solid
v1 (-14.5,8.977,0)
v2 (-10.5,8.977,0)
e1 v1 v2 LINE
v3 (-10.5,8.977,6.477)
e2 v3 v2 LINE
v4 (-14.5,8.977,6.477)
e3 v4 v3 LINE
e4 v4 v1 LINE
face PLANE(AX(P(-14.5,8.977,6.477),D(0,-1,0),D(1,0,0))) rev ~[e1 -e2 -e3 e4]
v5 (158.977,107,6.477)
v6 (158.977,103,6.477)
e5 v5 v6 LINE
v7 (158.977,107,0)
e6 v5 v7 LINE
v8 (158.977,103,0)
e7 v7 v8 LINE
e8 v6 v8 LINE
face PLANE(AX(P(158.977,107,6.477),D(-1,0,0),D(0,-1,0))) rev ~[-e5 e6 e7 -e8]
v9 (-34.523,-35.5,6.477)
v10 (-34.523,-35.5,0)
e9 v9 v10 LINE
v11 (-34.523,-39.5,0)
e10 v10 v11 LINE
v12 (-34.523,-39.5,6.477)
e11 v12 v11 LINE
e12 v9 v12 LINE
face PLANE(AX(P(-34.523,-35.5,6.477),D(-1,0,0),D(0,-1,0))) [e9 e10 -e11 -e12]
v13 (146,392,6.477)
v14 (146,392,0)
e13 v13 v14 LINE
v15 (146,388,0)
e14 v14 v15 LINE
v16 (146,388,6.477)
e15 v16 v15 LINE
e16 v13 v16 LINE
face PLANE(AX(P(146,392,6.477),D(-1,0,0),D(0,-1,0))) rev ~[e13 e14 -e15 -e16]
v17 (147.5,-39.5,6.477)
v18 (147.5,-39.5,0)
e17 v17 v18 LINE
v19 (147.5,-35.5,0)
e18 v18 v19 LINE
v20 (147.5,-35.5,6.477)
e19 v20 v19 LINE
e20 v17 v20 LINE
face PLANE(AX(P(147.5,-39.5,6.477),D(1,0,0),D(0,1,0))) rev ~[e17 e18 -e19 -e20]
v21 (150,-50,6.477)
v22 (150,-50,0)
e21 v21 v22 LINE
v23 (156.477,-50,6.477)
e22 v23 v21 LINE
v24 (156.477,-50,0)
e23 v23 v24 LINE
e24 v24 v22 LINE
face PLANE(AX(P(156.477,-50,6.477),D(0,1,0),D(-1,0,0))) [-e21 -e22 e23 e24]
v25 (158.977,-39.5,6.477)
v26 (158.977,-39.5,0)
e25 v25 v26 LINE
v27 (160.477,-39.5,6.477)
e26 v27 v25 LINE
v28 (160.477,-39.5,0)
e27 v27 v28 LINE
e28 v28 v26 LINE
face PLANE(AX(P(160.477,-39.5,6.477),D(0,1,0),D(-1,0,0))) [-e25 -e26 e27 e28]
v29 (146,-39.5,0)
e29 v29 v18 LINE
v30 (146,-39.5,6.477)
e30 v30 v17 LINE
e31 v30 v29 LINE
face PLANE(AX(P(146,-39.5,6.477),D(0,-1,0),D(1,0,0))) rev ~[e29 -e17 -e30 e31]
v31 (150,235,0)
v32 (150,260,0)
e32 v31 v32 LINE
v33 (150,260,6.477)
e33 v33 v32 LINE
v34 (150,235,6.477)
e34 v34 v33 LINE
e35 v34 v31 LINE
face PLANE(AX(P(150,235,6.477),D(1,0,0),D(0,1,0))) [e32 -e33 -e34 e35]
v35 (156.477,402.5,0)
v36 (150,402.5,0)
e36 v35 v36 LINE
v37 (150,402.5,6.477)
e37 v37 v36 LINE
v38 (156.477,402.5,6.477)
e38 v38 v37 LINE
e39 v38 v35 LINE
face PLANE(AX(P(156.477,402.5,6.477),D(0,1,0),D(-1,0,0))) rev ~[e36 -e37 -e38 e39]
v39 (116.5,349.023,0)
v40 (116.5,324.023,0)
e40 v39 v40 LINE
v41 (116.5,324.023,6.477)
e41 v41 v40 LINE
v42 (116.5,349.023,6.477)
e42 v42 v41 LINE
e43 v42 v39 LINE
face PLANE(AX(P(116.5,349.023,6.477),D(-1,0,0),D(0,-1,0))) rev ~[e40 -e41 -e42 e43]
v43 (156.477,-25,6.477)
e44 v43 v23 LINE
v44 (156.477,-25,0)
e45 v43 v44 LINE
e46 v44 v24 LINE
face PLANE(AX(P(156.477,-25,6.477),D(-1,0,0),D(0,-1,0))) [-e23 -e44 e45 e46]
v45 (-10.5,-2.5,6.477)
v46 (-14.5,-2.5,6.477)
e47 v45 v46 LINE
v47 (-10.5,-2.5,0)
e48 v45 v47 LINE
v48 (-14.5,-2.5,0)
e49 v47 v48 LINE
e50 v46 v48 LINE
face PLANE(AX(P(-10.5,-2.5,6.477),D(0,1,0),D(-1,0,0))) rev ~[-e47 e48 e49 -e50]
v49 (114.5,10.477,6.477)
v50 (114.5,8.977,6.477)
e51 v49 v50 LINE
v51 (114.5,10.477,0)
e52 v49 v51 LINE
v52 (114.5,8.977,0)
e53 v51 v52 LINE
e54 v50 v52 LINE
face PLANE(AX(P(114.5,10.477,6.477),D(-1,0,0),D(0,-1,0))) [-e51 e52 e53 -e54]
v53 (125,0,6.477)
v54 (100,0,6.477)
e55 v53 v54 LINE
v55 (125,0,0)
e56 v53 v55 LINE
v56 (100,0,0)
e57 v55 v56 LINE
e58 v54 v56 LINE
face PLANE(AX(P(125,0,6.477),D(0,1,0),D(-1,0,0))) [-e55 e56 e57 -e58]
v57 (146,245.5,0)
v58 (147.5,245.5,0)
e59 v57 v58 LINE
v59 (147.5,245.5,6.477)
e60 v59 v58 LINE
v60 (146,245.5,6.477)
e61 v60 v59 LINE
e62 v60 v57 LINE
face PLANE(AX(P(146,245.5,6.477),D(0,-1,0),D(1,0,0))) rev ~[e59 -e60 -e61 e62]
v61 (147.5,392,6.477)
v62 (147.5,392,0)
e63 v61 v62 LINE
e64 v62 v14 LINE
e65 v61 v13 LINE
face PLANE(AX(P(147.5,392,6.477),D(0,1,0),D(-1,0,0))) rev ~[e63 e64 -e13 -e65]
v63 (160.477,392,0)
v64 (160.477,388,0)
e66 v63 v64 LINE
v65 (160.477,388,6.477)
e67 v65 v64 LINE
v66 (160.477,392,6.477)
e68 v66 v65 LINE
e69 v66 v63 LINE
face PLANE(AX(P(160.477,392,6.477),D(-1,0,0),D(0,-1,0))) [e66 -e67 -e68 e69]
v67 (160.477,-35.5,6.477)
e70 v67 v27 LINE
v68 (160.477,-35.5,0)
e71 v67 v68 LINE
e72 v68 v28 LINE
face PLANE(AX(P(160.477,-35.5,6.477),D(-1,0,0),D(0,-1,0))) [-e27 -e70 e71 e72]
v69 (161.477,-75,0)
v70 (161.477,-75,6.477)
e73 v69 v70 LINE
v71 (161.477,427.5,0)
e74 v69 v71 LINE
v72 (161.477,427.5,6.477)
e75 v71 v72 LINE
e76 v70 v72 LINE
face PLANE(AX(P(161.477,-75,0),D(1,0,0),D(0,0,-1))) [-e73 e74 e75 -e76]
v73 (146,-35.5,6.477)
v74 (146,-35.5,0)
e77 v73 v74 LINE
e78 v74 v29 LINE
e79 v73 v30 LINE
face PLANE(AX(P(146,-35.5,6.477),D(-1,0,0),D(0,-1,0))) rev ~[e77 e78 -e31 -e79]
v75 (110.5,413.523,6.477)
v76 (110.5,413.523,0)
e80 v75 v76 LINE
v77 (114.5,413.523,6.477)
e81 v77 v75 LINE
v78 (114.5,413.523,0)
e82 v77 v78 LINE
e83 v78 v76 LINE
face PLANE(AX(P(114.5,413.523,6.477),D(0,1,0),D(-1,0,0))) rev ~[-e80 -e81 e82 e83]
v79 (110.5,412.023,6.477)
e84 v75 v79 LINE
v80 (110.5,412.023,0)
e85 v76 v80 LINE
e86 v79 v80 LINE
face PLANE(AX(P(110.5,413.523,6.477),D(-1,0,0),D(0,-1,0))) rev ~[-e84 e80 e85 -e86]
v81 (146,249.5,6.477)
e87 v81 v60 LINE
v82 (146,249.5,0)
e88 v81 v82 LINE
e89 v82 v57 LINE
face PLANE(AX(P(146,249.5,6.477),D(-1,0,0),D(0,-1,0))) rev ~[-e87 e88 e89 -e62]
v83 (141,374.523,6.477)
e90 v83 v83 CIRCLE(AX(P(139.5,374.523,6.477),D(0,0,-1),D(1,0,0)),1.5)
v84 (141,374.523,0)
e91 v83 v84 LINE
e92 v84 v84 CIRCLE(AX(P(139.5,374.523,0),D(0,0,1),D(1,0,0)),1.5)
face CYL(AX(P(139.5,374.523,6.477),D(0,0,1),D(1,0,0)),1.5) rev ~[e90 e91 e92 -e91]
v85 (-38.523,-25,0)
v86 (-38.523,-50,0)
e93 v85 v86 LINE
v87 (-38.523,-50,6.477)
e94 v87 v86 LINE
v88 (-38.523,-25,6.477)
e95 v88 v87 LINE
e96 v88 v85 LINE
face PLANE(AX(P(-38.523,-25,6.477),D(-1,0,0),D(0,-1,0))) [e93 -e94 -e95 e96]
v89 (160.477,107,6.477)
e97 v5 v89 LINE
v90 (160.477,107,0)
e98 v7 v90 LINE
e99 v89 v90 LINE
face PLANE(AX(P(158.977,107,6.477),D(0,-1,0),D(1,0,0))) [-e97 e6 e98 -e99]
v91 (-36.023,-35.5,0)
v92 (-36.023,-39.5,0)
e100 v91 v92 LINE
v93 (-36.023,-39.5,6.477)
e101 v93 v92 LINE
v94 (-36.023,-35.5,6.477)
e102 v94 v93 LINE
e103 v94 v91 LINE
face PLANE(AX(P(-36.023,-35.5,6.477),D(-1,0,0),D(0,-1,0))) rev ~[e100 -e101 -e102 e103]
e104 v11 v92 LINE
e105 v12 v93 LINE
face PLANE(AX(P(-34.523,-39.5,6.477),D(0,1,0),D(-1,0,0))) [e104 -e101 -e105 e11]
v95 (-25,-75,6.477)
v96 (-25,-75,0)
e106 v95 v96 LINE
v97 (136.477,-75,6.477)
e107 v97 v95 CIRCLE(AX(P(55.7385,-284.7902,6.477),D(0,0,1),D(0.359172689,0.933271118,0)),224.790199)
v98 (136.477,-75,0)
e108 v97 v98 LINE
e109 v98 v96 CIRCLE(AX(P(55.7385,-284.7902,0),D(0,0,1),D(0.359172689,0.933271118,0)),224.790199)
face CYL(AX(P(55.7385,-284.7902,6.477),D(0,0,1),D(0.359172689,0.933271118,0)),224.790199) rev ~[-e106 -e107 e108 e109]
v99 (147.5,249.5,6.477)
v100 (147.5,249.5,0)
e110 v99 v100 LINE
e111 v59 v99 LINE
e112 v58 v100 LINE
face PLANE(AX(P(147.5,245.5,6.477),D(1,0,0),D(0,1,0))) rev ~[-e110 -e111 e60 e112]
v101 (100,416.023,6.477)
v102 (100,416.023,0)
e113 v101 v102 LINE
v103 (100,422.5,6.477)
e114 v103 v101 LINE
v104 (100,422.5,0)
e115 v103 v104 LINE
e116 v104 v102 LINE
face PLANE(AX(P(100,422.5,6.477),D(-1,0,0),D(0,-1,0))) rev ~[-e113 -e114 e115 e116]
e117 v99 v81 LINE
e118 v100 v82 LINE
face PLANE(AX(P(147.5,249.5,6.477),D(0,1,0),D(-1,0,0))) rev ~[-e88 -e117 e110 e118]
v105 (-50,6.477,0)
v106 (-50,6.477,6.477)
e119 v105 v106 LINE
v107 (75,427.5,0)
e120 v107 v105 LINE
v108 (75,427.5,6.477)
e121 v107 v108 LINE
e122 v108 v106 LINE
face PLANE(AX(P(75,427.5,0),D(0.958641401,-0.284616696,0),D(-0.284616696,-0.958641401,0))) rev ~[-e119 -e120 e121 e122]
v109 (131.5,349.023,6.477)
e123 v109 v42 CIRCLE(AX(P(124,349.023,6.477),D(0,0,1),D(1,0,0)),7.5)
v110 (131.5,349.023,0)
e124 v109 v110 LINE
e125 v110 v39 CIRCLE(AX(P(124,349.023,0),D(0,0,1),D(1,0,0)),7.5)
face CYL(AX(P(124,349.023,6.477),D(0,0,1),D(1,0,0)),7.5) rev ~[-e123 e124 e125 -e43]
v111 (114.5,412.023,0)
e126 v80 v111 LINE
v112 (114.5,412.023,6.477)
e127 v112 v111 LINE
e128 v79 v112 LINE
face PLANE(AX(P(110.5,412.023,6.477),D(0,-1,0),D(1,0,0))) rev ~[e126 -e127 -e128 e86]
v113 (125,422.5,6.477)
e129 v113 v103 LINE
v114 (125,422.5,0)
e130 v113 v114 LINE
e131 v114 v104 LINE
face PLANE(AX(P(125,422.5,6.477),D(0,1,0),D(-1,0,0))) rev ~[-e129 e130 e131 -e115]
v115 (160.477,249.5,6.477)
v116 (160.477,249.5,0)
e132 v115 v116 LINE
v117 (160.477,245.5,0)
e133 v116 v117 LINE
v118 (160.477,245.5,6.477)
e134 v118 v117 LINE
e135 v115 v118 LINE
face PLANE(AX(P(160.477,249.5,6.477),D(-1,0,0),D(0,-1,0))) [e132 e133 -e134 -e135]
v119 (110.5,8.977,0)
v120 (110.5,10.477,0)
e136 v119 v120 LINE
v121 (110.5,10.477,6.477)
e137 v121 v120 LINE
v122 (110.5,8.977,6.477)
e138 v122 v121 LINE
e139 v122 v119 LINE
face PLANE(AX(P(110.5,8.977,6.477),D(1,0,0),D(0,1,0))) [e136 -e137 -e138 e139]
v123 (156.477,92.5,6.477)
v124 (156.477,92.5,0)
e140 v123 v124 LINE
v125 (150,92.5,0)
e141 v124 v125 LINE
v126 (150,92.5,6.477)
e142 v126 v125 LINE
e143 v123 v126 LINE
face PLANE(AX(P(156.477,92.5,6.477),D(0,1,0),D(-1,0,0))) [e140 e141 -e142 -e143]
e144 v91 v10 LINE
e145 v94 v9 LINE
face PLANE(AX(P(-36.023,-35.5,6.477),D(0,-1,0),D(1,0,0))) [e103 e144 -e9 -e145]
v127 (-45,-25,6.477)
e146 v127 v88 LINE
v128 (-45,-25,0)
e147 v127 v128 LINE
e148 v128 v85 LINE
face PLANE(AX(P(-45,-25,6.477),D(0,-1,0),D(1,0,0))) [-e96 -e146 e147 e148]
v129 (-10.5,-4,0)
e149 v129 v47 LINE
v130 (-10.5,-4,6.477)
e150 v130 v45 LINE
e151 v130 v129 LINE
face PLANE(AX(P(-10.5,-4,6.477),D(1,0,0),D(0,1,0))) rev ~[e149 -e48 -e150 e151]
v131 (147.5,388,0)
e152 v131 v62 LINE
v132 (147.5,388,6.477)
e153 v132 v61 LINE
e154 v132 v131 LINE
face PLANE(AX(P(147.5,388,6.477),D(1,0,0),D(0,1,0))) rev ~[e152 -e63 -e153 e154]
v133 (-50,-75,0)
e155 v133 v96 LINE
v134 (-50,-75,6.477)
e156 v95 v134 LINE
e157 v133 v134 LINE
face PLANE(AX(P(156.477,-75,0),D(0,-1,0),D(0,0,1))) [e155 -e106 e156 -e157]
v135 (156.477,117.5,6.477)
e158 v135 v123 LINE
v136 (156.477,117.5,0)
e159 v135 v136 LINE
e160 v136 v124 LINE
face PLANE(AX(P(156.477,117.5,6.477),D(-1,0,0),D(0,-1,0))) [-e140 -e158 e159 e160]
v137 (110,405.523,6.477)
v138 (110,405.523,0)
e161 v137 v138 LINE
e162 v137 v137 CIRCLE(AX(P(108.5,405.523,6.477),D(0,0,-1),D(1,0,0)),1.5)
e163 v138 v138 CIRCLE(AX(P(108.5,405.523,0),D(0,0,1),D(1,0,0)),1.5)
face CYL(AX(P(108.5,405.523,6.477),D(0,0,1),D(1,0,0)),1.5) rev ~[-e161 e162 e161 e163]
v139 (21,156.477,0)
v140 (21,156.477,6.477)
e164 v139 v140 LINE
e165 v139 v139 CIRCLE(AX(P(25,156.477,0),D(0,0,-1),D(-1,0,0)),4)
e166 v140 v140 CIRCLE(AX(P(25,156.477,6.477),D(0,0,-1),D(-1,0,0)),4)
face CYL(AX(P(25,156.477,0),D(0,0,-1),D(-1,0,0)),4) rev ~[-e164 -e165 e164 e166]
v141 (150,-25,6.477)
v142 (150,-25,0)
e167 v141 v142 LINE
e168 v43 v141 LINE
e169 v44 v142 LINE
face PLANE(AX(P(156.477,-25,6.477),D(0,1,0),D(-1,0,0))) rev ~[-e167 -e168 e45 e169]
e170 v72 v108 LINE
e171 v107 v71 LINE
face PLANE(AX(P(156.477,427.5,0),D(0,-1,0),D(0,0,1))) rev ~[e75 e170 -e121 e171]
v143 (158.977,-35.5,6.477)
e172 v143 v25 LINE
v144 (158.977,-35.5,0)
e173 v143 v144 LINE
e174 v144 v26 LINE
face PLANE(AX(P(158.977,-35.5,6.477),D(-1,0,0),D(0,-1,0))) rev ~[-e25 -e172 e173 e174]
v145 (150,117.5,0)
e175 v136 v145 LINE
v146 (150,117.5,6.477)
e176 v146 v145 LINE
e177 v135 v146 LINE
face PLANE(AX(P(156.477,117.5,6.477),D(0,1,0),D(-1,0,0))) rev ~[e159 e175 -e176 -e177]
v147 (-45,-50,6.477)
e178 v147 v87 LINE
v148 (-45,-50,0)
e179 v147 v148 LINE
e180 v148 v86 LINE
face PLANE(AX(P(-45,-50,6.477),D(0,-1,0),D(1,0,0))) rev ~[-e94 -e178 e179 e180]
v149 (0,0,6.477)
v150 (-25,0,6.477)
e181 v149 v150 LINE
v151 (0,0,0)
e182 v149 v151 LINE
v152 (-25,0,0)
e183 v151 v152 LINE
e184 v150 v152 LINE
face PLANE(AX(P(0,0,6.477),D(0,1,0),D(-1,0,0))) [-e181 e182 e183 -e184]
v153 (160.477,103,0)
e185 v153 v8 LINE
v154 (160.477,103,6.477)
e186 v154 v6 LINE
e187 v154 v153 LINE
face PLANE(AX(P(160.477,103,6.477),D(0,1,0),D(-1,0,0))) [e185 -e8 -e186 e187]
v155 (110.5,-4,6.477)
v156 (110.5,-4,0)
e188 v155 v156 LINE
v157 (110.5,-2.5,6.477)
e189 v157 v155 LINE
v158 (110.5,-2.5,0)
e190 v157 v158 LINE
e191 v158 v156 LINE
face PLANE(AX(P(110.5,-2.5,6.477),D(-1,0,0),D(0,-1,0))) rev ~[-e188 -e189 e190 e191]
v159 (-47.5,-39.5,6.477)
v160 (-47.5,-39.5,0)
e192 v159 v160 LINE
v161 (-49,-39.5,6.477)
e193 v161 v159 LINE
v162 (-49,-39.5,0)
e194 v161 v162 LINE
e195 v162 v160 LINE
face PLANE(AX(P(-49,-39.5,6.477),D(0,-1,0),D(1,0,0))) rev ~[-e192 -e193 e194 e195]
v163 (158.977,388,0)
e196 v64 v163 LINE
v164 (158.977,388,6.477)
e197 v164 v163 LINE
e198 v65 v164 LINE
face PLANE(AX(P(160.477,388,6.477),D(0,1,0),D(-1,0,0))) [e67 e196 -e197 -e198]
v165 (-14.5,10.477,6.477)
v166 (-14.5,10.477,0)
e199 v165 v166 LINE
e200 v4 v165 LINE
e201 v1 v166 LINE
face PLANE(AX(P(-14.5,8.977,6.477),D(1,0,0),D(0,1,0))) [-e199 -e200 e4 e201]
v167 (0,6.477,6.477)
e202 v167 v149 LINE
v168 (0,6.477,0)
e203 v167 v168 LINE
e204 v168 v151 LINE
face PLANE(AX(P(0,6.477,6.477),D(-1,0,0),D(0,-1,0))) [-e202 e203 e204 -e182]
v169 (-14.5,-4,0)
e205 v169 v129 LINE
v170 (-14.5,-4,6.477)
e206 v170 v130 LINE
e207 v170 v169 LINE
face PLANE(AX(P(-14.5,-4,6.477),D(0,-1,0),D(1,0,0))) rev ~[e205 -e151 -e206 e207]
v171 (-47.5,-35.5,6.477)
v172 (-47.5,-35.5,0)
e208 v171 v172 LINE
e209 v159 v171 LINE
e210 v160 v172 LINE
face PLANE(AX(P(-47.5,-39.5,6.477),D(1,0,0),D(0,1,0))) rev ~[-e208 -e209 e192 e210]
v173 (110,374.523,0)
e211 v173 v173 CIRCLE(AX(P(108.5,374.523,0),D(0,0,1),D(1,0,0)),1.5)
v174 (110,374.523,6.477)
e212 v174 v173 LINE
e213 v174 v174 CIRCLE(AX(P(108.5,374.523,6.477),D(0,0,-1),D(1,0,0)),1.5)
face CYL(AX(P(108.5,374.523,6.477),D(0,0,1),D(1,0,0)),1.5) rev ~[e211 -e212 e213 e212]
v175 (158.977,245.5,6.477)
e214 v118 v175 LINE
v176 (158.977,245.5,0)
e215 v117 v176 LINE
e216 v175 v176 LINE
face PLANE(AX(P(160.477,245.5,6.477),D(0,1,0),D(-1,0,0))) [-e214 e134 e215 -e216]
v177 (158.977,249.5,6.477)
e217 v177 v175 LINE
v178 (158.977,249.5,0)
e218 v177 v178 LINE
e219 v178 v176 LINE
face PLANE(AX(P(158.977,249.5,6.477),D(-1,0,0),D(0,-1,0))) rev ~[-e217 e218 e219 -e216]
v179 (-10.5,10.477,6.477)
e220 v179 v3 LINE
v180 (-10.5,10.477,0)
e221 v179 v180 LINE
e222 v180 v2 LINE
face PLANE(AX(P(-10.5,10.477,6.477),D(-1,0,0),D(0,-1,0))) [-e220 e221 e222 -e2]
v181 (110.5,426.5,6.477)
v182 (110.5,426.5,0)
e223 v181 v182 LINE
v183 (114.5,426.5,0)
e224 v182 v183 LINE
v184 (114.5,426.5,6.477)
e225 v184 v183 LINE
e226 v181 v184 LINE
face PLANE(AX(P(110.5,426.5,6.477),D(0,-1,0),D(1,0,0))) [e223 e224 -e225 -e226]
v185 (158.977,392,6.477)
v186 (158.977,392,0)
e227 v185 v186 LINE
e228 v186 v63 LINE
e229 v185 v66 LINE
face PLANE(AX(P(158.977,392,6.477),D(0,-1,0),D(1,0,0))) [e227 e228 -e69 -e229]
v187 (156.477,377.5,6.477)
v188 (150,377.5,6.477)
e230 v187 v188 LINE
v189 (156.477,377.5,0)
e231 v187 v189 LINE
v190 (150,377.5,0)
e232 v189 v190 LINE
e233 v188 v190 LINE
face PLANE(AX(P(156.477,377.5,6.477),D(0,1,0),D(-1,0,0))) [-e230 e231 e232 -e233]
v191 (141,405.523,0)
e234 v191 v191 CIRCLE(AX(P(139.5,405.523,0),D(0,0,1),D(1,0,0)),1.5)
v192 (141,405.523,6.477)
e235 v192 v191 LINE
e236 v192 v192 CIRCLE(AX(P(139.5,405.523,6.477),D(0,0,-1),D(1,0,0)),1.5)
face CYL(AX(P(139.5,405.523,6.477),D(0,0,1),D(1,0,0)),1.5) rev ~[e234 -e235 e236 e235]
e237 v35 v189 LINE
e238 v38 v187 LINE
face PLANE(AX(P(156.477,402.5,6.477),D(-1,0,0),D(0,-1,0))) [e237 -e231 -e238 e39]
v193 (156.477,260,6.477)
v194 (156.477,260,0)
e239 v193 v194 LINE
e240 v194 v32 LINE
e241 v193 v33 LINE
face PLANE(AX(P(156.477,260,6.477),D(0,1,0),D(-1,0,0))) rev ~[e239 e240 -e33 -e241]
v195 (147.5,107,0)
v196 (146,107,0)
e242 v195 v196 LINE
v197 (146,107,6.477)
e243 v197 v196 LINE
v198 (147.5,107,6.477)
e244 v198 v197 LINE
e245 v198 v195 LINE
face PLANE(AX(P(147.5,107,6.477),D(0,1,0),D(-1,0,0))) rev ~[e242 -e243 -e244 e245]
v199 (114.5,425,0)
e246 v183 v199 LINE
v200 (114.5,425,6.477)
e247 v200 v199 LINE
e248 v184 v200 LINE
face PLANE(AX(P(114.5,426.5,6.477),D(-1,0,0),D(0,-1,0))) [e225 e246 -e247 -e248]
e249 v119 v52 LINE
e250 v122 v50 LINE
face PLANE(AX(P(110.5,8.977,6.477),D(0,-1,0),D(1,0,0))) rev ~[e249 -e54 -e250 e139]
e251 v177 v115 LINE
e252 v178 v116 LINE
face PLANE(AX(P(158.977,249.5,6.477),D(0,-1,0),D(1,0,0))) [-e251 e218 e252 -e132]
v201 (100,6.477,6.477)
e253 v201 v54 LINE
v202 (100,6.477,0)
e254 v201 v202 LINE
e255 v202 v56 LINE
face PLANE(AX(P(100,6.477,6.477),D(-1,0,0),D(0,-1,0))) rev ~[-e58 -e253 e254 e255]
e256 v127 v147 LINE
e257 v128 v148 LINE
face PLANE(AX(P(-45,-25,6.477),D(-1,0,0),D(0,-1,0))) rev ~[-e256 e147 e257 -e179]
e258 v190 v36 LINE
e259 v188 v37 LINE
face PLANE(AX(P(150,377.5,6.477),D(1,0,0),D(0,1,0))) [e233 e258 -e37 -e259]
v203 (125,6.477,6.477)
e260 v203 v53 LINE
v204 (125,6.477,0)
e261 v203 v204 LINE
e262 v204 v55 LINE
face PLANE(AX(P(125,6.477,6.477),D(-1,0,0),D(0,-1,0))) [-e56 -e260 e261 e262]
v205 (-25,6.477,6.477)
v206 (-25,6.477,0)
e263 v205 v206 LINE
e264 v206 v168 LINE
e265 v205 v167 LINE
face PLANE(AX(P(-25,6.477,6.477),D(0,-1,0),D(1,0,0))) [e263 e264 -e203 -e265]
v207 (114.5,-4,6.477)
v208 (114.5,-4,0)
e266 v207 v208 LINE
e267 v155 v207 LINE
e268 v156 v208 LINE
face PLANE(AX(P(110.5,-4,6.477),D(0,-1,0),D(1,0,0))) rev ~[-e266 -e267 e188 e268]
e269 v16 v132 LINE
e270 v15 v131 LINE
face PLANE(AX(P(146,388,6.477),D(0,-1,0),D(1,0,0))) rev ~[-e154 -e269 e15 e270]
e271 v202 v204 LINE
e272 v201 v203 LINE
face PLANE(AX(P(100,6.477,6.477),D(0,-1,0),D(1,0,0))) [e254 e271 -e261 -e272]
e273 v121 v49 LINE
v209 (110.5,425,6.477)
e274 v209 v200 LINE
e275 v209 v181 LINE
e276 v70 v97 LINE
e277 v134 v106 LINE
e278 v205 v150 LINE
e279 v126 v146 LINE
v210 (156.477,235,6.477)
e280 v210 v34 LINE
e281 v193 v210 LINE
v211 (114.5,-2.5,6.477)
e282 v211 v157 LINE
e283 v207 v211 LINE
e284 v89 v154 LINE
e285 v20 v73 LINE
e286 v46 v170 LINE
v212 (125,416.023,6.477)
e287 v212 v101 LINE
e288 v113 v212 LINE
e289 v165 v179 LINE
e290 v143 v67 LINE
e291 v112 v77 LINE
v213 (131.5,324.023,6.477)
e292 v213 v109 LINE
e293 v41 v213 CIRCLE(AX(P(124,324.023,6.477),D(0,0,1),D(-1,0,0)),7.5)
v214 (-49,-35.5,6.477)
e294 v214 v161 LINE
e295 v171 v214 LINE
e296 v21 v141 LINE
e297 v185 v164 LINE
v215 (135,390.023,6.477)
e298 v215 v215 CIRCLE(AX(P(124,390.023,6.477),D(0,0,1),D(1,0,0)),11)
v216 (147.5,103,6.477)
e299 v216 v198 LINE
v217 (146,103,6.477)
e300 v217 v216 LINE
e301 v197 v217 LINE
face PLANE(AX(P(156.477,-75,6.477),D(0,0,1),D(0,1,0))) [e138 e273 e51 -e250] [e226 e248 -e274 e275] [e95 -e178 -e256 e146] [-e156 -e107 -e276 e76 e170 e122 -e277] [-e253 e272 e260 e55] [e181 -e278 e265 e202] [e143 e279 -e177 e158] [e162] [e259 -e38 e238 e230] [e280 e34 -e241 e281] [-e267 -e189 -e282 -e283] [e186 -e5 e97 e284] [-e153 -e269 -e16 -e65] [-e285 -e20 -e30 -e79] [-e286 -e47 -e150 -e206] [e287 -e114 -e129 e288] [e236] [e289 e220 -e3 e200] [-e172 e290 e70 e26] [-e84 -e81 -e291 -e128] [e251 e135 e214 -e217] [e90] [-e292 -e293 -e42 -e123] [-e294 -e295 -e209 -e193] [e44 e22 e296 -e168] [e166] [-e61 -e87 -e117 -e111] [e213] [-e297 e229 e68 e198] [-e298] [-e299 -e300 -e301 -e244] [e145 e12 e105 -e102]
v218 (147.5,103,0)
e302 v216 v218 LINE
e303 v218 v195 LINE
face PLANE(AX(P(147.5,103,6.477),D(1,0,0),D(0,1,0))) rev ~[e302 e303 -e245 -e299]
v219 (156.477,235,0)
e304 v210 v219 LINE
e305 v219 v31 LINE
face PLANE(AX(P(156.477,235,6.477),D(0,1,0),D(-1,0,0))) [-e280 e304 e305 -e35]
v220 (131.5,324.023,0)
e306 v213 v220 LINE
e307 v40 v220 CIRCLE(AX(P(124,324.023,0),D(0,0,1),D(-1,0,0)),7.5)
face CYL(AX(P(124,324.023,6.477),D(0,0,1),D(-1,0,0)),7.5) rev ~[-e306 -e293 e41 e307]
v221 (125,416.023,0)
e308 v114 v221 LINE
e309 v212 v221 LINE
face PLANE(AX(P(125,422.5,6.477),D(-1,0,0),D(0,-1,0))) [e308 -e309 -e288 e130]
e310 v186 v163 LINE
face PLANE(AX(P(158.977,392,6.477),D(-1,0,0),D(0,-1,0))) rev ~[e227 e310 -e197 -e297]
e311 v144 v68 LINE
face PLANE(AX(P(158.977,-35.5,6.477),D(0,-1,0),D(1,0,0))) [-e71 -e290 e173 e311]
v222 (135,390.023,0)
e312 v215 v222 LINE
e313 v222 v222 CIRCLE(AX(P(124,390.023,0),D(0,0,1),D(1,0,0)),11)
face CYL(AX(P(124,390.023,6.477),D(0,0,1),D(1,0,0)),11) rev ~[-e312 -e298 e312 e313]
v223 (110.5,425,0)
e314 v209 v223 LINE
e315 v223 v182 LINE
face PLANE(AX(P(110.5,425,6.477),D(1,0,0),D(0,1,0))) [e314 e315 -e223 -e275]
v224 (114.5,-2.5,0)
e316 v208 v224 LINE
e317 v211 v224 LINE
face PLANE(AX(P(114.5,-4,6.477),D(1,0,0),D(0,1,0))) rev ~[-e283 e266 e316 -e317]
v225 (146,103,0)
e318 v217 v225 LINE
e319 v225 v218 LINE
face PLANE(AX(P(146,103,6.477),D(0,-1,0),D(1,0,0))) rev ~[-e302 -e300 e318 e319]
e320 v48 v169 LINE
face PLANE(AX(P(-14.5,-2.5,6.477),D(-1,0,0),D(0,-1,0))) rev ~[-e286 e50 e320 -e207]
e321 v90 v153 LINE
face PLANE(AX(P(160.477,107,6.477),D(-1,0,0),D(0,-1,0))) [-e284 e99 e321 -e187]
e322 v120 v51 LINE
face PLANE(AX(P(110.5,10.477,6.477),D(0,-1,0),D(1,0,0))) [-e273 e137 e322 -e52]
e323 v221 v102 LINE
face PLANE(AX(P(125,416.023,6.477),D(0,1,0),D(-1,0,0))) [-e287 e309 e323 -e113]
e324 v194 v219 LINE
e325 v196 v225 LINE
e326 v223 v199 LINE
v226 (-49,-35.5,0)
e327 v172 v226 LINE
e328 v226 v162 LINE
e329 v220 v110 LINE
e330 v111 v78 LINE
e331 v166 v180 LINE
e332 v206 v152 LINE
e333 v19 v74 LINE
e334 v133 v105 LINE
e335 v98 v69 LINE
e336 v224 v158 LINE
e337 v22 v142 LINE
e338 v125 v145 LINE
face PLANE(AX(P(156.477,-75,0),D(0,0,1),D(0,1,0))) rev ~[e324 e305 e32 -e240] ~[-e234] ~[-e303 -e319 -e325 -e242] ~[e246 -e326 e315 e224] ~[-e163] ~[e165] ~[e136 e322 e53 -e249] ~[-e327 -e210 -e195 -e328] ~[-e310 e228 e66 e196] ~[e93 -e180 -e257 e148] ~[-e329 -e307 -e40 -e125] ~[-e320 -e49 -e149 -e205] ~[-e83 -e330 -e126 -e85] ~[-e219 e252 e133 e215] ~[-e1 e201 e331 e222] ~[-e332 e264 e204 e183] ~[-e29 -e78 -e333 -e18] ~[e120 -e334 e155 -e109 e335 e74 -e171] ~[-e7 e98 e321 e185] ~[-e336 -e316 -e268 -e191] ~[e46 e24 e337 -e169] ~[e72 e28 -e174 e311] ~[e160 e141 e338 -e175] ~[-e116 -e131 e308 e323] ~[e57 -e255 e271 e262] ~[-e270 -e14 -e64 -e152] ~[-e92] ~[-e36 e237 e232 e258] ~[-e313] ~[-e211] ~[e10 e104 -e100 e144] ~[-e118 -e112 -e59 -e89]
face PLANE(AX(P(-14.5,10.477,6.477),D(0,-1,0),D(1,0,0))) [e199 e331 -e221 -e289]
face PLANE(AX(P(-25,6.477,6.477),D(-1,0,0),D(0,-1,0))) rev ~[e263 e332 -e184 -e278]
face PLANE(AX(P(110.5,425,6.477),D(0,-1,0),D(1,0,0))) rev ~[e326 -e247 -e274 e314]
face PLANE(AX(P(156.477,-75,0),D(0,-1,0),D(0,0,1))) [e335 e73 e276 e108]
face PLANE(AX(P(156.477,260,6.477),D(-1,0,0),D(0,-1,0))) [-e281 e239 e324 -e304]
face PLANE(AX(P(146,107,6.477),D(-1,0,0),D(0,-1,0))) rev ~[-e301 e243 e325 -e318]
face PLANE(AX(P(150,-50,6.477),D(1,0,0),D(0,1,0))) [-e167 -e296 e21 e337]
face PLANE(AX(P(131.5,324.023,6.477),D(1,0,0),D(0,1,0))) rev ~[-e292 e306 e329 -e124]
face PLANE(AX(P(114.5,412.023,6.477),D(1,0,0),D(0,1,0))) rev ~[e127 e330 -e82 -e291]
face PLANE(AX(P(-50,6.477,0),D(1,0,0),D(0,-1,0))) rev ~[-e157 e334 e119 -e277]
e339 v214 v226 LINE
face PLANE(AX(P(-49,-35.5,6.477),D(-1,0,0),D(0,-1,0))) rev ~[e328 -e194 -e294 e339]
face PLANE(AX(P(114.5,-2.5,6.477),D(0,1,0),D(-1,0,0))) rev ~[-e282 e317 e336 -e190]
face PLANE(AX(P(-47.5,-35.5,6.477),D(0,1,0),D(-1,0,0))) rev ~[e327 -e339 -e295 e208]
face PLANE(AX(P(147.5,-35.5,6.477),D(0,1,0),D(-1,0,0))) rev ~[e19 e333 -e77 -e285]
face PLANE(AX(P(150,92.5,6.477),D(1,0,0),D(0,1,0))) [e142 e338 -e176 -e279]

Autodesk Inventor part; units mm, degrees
ref_plane "YZ Plane" through (0, 0, 0) normal (1, 0, 0) x (0, 1, 0)
ref_plane "XZ Plane" through (0, 0, 0) normal (0, 1, 0) x (-1, 0, 0)
ref_plane "XY Plane" through (0, 0, 0) normal (0, 0, 1) x (1, 0, 0)
ref_plane "Work Plane1" through (0, 0, 0) normal (0, 0, 1) x (1, 0, 0)
sketch "Sketch2" plane through (0, 0, 0) normal (0, 0, 1) x (1, 0, 0)
  line L0 (0, 0) -> (100, 0) projected
  line L1 (0, 6.477) -> (100, 6.477) projected
  line L2 (150, 402.5) -> (150, 427.5) projected
  line L3 (156.477, 427.5) -> (156.477, 402.5) projected
  line L4 (150, 427.5) -> (156.477, 427.5) projected
  line L5 (150, -75) -> (-50, -75)
  line L6 (-50, -75) -> (-50, 0)
  line L7 (-50, 0) -> (150, 0)
  line L8 (150, 0) -> (150, -75)
  line L9 (150, 427.5) -> (75, 427.5)
  line L10 (75, 427.5) -> (-50, 6.477)
  line L11 (150, 6.477) -> (150, 427.5)
  line L12 (150, 402.5) -> (156.477, 402.5) projected
  line L13 (156.477, 427.5) -> (150, 427.5)
  line L14 (150, 427.5) -> (150, -75)
  line L15 (150, -75) -> (156.477, -75)
  line L16 (156.477, -75) -> (156.477, 427.5)
  line L17 (-50, 6.477) -> (-50, 0)
  line L18 (-50, 0) -> (150, 0)
  line L19 (150, 0) -> (150, 427.5)
  line L20 (100, 0) -> (100, 6.477) projected
  line L21 (0, 6.477) -> (0, 0) projected
  dimension "d3" = 75
extrude "Extrusion2" add sketch "Sketch2" along normal blind 6.477
sketch "Sketch5" plane through (156.477, -75, 0) normal (1, 0, 0) x (0, 0, -1)
  line L0 (0, 0) -> (0, 502.5) projected
  line L1 (0, 502.5) -> (-6.477, 502.5) projected
  line L2 (-6.477, 0) -> (-6.477, 502.5) projected
  line L3 (0, 0) -> (-6.477, 0) projected
  point P0 (0, 75)
  point P1 (0, 477.5)
  point P2 (-6.477, 477.5)
extrude "Extrusion5" add sketch "Sketch5" along normal blind 5
sketch "Sketch6" plane through (0, 0, 6.477) normal (0, 0, 1) x (1, 0, 0)
  line L0 (-50, -75) -> (161.477, -75) projected
  arc A0 (136.477, -75) -> (-25, -75) centre (55.7385, -284.7902) ccw
  point P0 (0, 0)
  point P1 (55.7385, -60)
  point P2 (55.7385, -75)
  point P3 (150, -75)
  point P4 (156.477, -75)
  dimension "d14" = 25
  dimension "d15" = 15
extrude "Extrusion6" cut sketch "Sketch6" against normal through all
sketch "Sketch7" plane through (0, 0, 6.477) normal (0, 0, 1) x (1, 0, 0)
  line L0 (-45, -25) -> (-45, -50) projected
  line L1 (-45, -50) -> (-38.523, -50) projected
  line L2 (-38.523, -25) -> (-38.523, -50) projected
  line L3 (-45, -25) -> (-38.523, -25) projected
  line L4 (150, -50) -> (150, -25) projected
  line L5 (156.477, -50) -> (150, -50) projected
  line L6 (156.477, -25) -> (156.477, -50) projected
  line L7 (156.477, -25) -> (150, -25) projected
  line L8 (150, 92.5) -> (150, 117.5) projected
  line L9 (156.477, 92.5) -> (150, 92.5) projected
  line L10 (156.477, 117.5) -> (156.477, 92.5) projected
  line L11 (156.477, 117.5) -> (150, 117.5) projected
  line L12 (150, 235) -> (150, 260) projected
  line L13 (156.477, 235) -> (150, 235) projected
  line L14 (156.477, 260) -> (156.477, 235) projected
  line L15 (156.477, 260) -> (150, 260) projected
  line L16 (150, 377.5) -> (150, 402.5) projected
  line L17 (156.477, 377.5) -> (150, 377.5) projected
  line L18 (156.477, 402.5) -> (156.477, 377.5) projected
  line L19 (156.477, 402.5) -> (150, 402.5) projected
  line L20 (125, 422.5) -> (100, 422.5) projected
  line L21 (100, 422.5) -> (100, 416.023) projected
  line L22 (125, 416.023) -> (100, 416.023) projected
  line L23 (125, 422.5) -> (125, 416.023) projected
  line L24 (0, 0) -> (-25, 0) projected
  line L25 (0, 6.477) -> (0, 0) projected
  line L26 (-25, 6.477) -> (0, 6.477) projected
  line L27 (-25, 6.477) -> (-25, 0) projected
  line L28 (125, 0) -> (100, 0) projected
  line L29 (125, 6.477) -> (125, 0) projected
  line L30 (100, 6.477) -> (125, 6.477) projected
  line L31 (100, 6.477) -> (100, 0) projected
extrude "Extrusion7" cut sketch "Sketch7" against normal through all
sketch "Sketch8" plane through (0, 0, 6.477) normal (0, 0, 1) x (1, 0, 0)
  line L0 (-25, 0) -> (-25, 6.477) projected
  line L1 (-25, 6.477) -> (0, 6.477) projected
  line L2 (-45, -50) -> (-45, -25) projected
  line L3 (-45, -25) -> (-38.523, -25) projected
  line L4 (100, 416.023) -> (100, 422.5) projected
  line L5 (125, 416.023) -> (100, 416.023) projected
  line L6 (100, 0) -> (100, 6.477) projected
  line L7 (100, 6.477) -> (125, 6.477) projected
  line L8 (-47.5, -35.5) -> (-36.023, -35.5)
  line L9 (-36.023, -35.5) -> (-36.023, -39.5)
  line L10 (-36.023, -39.5) -> (-47.5, -39.5)
  line L11 (-47.5, -39.5) -> (-47.5, -35.5)
  line L12 (-47.5, -35.5) -> (-49, -35.5)
  line L13 (-49, -35.5) -> (-49, -39.5)
  line L14 (-49, -39.5) -> (-47.5, -39.5)
  line L15 (-47.5, -39.5) -> (-47.5, -35.5)
  line L16 (-36.023, -35.5) -> (-34.523, -35.5)
  line L17 (-34.523, -35.5) -> (-34.523, -39.5)
  line L18 (-34.523, -39.5) -> (-36.023, -39.5)
  line L19 (-36.023, -39.5) -> (-36.023, -35.5)
  line L20 (147.5, -35.5) -> (158.977, -35.5)
  line L21 (158.977, -35.5) -> (158.977, -39.5)
  line L22 (158.977, -39.5) -> (147.5, -39.5)
  line L23 (147.5, -39.5) -> (147.5, -35.5)
  line L24 (147.5, -35.5) -> (146, -35.5)
  line L25 (146, -35.5) -> (146, -39.5)
  line L26 (146, -39.5) -> (147.5, -39.5)
  line L27 (147.5, -39.5) -> (147.5, -35.5)
  line L28 (158.977, -35.5) -> (160.477, -35.5)
  line L29 (160.477, -35.5) -> (160.477, -39.5)
  line L30 (160.477, -39.5) -> (158.977, -39.5)
  line L31 (158.977, -39.5) -> (158.977, -35.5)
  line L32 (147.5, 107) -> (158.977, 107)
  line L33 (158.977, 107) -> (158.977, 103)
  line L34 (158.977, 103) -> (147.5, 103)
  line L35 (147.5, 103) -> (147.5, 107)
  line L36 (147.5, 107) -> (146, 107)
  line L37 (146, 107) -> (146, 103)
  line L38 (146, 103) -> (147.5, 103)
  line L39 (147.5, 103) -> (147.5, 107)
  line L40 (158.977, 107) -> (160.477, 107)
  line L41 (160.477, 107) -> (160.477, 103)
  line L42 (160.477, 103) -> (158.977, 103)
  line L43 (158.977, 103) -> (158.977, 107)
  line L44 (147.5, 249.5) -> (158.977, 249.5)
  line L45 (158.977, 249.5) -> (158.977, 245.5)
  line L46 (158.977, 245.5) -> (147.5, 245.5)
  line L47 (147.5, 245.5) -> (147.5, 249.5)
  line L48 (147.5, 249.5) -> (146, 249.5)
  line L49 (146, 249.5) -> (146, 245.5)
  line L50 (146, 245.5) -> (147.5, 245.5)
  line L51 (147.5, 245.5) -> (147.5, 249.5)
  line L52 (158.977, 249.5) -> (160.477, 249.5)
  line L53 (160.477, 249.5) -> (160.477, 245.5)
  line L54 (160.477, 245.5) -> (158.977, 245.5)
  line L55 (158.977, 245.5) -> (158.977, 249.5)
  line L56 (147.5, 392) -> (158.977, 392)
  line L57 (158.977, 392) -> (158.977, 388)
  line L58 (158.977, 388) -> (147.5, 388)
  line L59 (147.5, 388) -> (147.5, 392)
  line L60 (147.5, 392) -> (146, 392)
  line L61 (146, 392) -> (146, 388)
  line L62 (146, 388) -> (147.5, 388)
  line L63 (147.5, 388) -> (147.5, 392)
  line L64 (158.977, 392) -> (160.477, 392)
  line L65 (160.477, 392) -> (160.477, 388)
  line L66 (160.477, 388) -> (158.977, 388)
  line L67 (158.977, 388) -> (158.977, 392)
  line L68 (110.5, 413.523) -> (110.5, 425)
  line L69 (110.5, 425) -> (114.5, 425)
  line L70 (114.5, 425) -> (114.5, 413.523)
  line L71 (114.5, 413.523) -> (110.5, 413.523)
  line L72 (110.5, 413.523) -> (110.5, 412.023)
  line L73 (110.5, 412.023) -> (114.5, 412.023)
  line L74 (114.5, 412.023) -> (114.5, 413.523)
  line L75 (114.5, 413.523) -> (110.5, 413.523)
  line L76 (110.5, 425) -> (110.5, 426.5)
  line L77 (110.5, 426.5) -> (114.5, 426.5)
  line L78 (114.5, 426.5) -> (114.5, 425)
  line L79 (114.5, 425) -> (110.5, 425)
  line L80 (-14.5, -2.5) -> (-14.5, -4)
  line L81 (-10.5, -4) -> (-10.5, -2.5)
  line L82 (-14.5, -4) -> (-10.5, -4)
  line L83 (-14.5, -2.5) -> (-14.5, 8.977)
  line L84 (-14.5, 8.977) -> (-10.5, 8.977)
  line L85 (-10.5, 8.977) -> (-10.5, -2.5)
  line L86 (-10.5, -2.5) -> (-14.5, -2.5)
  line L87 (-14.5, 8.977) -> (-14.5, 10.477)
  line L88 (-14.5, 10.477) -> (-10.5, 10.477)
  line L89 (-10.5, 10.477) -> (-10.5, 8.977)
  line L90 (-10.5, 8.977) -> (-14.5, 8.977)
  line L91 (-10.5, -2.5) -> (-14.5, -2.5)
  line L92 (110.5, -2.5) -> (110.5, -4)
  line L93 (114.5, -4) -> (114.5, -2.5)
  line L94 (110.5, -4) -> (114.5, -4)
  line L95 (110.5, -2.5) -> (110.5, 8.977)
  line L96 (110.5, 8.977) -> (114.5, 8.977)
  line L97 (114.5, 8.977) -> (114.5, -2.5)
  line L98 (114.5, -2.5) -> (110.5, -2.5)
  line L99 (110.5, 8.977) -> (110.5, 10.477)
  line L100 (110.5, 10.477) -> (114.5, 10.477)
  line L101 (114.5, 10.477) -> (114.5, 8.977)
  line L102 (114.5, 8.977) -> (110.5, 8.977)
  line L103 (114.5, -2.5) -> (110.5, -2.5)
  point P0 (-47.5, -37.5)
  point P1 (-45, -37.5)
  point P2 (-41.7615, -35.5)
  point P3 (-41.7615, -25)
  point P4 (147.5, -37.5)
  point P5 (150, -37.5)
  point P6 (153.2385, -35.5)
  point P7 (147.5, 105)
  point P8 (150, 105)
  point P9 (153.2385, 107)
  point P10 (147.5, 247.5)
  point P11 (150, 247.5)
  point P12 (153.2385, 249.5)
  point P13 (147.5, 390)
  point P14 (150, 390)
  point P15 (153.2385, 392)
  point P16 (112.5, 413.523)
  point P17 (112.5, 416.023)
  point P18 (110.5, 419.2615)
  point P19 (100, 419.2615)
  point P20 (112.5, 413.523)
  point P21 (112.5, 416.023)
  point P22 (-12.5, -2.5)
  point P23 (-11.1358, -0.405)
  point P24 (-14.5, 3.2385)
  point P25 (-12.5, -2.5)
  point P26 (-12.5, 0)
  point P27 (112.5, -2.5)
  point P28 (112.5, 0)
  point P29 (110.5, 3.2385)
  point P30 (112.5, -2.5)
  point P31 (112.5, 0)
  point P32 (-12.5, 8.977)
  point P33 (-12.5, 6.477)
  point P34 (-25, 3.2385)
  point P35 (112.5, 8.977)
  point P36 (112.5, 6.477)
  point P37 (100, 3.2385)
  dimension "d20" = 2.5
  dimension "d21" = 1.5
  dimension "d22" = 4
  dimension "d23" = 1.5
  dimension "d24" = 4
  dimension "d25" = 1.5
  dimension "d26" = 4
  dimension "d27" = 1.5
  dimension "d28" = 4
  dimension "d29" = 1.5
  dimension "d30" = 4
  dimension "d31" = 1.5
  dimension "d32" = 4
  dimension "d33" = 2.5
  dimension "d34" = 1.5
  dimension "d35" = 4
  dimension "d36" = 1.5
  dimension "d37" = 4
  dimension "d38" = 2.5
  dimension "d39" = 2.5
extrude "Extrusion8" cut sketch "Sketch8" against normal through all contours L86 L81 L82 L80 | L87 L88 L89 L84 | L9 L16 L17 L18 | L14 L13 L12 L11 | L69 L76 L77 L78 | L74 L73 L72 L71 | L98 L93 L94 L92 | L99 L100 L101 L96 | L23 L26 L25 L24 | L28 L29 L30 L21 | L35 L38 L37 L36 | L40 L41 L42 L33 | L47 L50 L49 L48 | L52 L53 L54 L45 | L59 L62 L61 L60 | L64 L65 L66 L57
sketch "Sketch9" plane through (0, 0, 0) normal (0, 0, -1) x (-1, 0, 0)
  line L0 (0, 6.477) -> (25, 6.477) projected
  line L1 (-150, 260) -> (-150, 235) projected
  circle A0 centre (-25, 156.477) radius 4
  dimension "d42" = 8
  dimension "d44" = 125
  dimension "d45" = 150
extrude "Extrusion9" cut sketch "Sketch9" against normal through all
sketch "Sketch10" plane through (0, 0, 6.477) normal (0, 0, 1) x (1, 0, 0)
  line L0 (150, 377.5) -> (150, 402.5) projected
  line L1 (125, 416.023) -> (100, 416.023) projected
  line L2 (103, 369.023) -> (103, 411.023)
  line L3 (103, 411.023) -> (145, 411.023)
  line L4 (145, 411.023) -> (145, 369.023)
  line L5 (145, 369.023) -> (103, 369.023)
  circle A0 centre (124, 390.023) radius 11
  line L6 (108.5, 405.523) -> (139.5, 405.523)
  line L7 (139.5, 405.523) -> (139.5, 374.523)
  line L8 (139.5, 374.523) -> (108.5, 374.523)
  line L9 (108.5, 374.523) -> (108.5, 405.523)
  circle A1 centre (108.5, 405.523) radius 1.5
  circle A2 centre (139.5, 405.523) radius 1.5
  circle A3 centre (139.5, 374.523) radius 1.5
  circle A4 centre (108.5, 374.523) radius 1.5
  line L10 (116.5, 349.023) -> (116.5, 324.023)
  arc A5 (116.5, 324.023) -> (131.5, 324.023) centre (124, 324.023) ccw
  line L11 (131.5, 324.023) -> (131.5, 349.023)
  arc A6 (131.5, 349.023) -> (116.5, 349.023) centre (124, 349.023) ccw
  point P0 (124, 405.523)
  dimension "d48" = 5
  dimension "d49" = 5
  dimension "d50" = 42
  dimension "d51" = 22
  dimension "d52" = 31
  dimension "d53" = 3
  dimension "d54" = 20
  dimension "d55" = 25
  dimension "d56" = 15
extrude "Extrusion10" cut sketch "Sketch10" against normal through all contours A0 | L9 A1 L6 | L6 A1 L9 | A2 L7 L6 | L6 L7 A2 | A4 L8 L9 | L9 L8 A4 | A3 L8 L7 | L7 L8 A3 | A6 L11 A5 L10
sketch "Sketch4" plane through (0, 0, 6.477) normal (0, 0, 1) x (1, 0, 0)
  line L0 (-50, -75) -> (156.477, -75) projected
  arc A0 (131.477, -75) -> (-25, -75) centre (53.2385, -271.5421) ccw
  point P0 (161.477, -75)
  point P1 (0, 0)
  point P2 (53.2385, -60)
  point P3 (53.2385, -75)
  point P4 (150, -75)
  dimension "d8" = 15
  dimension "d9" = 25
properties part number "FRAME SIDE"
